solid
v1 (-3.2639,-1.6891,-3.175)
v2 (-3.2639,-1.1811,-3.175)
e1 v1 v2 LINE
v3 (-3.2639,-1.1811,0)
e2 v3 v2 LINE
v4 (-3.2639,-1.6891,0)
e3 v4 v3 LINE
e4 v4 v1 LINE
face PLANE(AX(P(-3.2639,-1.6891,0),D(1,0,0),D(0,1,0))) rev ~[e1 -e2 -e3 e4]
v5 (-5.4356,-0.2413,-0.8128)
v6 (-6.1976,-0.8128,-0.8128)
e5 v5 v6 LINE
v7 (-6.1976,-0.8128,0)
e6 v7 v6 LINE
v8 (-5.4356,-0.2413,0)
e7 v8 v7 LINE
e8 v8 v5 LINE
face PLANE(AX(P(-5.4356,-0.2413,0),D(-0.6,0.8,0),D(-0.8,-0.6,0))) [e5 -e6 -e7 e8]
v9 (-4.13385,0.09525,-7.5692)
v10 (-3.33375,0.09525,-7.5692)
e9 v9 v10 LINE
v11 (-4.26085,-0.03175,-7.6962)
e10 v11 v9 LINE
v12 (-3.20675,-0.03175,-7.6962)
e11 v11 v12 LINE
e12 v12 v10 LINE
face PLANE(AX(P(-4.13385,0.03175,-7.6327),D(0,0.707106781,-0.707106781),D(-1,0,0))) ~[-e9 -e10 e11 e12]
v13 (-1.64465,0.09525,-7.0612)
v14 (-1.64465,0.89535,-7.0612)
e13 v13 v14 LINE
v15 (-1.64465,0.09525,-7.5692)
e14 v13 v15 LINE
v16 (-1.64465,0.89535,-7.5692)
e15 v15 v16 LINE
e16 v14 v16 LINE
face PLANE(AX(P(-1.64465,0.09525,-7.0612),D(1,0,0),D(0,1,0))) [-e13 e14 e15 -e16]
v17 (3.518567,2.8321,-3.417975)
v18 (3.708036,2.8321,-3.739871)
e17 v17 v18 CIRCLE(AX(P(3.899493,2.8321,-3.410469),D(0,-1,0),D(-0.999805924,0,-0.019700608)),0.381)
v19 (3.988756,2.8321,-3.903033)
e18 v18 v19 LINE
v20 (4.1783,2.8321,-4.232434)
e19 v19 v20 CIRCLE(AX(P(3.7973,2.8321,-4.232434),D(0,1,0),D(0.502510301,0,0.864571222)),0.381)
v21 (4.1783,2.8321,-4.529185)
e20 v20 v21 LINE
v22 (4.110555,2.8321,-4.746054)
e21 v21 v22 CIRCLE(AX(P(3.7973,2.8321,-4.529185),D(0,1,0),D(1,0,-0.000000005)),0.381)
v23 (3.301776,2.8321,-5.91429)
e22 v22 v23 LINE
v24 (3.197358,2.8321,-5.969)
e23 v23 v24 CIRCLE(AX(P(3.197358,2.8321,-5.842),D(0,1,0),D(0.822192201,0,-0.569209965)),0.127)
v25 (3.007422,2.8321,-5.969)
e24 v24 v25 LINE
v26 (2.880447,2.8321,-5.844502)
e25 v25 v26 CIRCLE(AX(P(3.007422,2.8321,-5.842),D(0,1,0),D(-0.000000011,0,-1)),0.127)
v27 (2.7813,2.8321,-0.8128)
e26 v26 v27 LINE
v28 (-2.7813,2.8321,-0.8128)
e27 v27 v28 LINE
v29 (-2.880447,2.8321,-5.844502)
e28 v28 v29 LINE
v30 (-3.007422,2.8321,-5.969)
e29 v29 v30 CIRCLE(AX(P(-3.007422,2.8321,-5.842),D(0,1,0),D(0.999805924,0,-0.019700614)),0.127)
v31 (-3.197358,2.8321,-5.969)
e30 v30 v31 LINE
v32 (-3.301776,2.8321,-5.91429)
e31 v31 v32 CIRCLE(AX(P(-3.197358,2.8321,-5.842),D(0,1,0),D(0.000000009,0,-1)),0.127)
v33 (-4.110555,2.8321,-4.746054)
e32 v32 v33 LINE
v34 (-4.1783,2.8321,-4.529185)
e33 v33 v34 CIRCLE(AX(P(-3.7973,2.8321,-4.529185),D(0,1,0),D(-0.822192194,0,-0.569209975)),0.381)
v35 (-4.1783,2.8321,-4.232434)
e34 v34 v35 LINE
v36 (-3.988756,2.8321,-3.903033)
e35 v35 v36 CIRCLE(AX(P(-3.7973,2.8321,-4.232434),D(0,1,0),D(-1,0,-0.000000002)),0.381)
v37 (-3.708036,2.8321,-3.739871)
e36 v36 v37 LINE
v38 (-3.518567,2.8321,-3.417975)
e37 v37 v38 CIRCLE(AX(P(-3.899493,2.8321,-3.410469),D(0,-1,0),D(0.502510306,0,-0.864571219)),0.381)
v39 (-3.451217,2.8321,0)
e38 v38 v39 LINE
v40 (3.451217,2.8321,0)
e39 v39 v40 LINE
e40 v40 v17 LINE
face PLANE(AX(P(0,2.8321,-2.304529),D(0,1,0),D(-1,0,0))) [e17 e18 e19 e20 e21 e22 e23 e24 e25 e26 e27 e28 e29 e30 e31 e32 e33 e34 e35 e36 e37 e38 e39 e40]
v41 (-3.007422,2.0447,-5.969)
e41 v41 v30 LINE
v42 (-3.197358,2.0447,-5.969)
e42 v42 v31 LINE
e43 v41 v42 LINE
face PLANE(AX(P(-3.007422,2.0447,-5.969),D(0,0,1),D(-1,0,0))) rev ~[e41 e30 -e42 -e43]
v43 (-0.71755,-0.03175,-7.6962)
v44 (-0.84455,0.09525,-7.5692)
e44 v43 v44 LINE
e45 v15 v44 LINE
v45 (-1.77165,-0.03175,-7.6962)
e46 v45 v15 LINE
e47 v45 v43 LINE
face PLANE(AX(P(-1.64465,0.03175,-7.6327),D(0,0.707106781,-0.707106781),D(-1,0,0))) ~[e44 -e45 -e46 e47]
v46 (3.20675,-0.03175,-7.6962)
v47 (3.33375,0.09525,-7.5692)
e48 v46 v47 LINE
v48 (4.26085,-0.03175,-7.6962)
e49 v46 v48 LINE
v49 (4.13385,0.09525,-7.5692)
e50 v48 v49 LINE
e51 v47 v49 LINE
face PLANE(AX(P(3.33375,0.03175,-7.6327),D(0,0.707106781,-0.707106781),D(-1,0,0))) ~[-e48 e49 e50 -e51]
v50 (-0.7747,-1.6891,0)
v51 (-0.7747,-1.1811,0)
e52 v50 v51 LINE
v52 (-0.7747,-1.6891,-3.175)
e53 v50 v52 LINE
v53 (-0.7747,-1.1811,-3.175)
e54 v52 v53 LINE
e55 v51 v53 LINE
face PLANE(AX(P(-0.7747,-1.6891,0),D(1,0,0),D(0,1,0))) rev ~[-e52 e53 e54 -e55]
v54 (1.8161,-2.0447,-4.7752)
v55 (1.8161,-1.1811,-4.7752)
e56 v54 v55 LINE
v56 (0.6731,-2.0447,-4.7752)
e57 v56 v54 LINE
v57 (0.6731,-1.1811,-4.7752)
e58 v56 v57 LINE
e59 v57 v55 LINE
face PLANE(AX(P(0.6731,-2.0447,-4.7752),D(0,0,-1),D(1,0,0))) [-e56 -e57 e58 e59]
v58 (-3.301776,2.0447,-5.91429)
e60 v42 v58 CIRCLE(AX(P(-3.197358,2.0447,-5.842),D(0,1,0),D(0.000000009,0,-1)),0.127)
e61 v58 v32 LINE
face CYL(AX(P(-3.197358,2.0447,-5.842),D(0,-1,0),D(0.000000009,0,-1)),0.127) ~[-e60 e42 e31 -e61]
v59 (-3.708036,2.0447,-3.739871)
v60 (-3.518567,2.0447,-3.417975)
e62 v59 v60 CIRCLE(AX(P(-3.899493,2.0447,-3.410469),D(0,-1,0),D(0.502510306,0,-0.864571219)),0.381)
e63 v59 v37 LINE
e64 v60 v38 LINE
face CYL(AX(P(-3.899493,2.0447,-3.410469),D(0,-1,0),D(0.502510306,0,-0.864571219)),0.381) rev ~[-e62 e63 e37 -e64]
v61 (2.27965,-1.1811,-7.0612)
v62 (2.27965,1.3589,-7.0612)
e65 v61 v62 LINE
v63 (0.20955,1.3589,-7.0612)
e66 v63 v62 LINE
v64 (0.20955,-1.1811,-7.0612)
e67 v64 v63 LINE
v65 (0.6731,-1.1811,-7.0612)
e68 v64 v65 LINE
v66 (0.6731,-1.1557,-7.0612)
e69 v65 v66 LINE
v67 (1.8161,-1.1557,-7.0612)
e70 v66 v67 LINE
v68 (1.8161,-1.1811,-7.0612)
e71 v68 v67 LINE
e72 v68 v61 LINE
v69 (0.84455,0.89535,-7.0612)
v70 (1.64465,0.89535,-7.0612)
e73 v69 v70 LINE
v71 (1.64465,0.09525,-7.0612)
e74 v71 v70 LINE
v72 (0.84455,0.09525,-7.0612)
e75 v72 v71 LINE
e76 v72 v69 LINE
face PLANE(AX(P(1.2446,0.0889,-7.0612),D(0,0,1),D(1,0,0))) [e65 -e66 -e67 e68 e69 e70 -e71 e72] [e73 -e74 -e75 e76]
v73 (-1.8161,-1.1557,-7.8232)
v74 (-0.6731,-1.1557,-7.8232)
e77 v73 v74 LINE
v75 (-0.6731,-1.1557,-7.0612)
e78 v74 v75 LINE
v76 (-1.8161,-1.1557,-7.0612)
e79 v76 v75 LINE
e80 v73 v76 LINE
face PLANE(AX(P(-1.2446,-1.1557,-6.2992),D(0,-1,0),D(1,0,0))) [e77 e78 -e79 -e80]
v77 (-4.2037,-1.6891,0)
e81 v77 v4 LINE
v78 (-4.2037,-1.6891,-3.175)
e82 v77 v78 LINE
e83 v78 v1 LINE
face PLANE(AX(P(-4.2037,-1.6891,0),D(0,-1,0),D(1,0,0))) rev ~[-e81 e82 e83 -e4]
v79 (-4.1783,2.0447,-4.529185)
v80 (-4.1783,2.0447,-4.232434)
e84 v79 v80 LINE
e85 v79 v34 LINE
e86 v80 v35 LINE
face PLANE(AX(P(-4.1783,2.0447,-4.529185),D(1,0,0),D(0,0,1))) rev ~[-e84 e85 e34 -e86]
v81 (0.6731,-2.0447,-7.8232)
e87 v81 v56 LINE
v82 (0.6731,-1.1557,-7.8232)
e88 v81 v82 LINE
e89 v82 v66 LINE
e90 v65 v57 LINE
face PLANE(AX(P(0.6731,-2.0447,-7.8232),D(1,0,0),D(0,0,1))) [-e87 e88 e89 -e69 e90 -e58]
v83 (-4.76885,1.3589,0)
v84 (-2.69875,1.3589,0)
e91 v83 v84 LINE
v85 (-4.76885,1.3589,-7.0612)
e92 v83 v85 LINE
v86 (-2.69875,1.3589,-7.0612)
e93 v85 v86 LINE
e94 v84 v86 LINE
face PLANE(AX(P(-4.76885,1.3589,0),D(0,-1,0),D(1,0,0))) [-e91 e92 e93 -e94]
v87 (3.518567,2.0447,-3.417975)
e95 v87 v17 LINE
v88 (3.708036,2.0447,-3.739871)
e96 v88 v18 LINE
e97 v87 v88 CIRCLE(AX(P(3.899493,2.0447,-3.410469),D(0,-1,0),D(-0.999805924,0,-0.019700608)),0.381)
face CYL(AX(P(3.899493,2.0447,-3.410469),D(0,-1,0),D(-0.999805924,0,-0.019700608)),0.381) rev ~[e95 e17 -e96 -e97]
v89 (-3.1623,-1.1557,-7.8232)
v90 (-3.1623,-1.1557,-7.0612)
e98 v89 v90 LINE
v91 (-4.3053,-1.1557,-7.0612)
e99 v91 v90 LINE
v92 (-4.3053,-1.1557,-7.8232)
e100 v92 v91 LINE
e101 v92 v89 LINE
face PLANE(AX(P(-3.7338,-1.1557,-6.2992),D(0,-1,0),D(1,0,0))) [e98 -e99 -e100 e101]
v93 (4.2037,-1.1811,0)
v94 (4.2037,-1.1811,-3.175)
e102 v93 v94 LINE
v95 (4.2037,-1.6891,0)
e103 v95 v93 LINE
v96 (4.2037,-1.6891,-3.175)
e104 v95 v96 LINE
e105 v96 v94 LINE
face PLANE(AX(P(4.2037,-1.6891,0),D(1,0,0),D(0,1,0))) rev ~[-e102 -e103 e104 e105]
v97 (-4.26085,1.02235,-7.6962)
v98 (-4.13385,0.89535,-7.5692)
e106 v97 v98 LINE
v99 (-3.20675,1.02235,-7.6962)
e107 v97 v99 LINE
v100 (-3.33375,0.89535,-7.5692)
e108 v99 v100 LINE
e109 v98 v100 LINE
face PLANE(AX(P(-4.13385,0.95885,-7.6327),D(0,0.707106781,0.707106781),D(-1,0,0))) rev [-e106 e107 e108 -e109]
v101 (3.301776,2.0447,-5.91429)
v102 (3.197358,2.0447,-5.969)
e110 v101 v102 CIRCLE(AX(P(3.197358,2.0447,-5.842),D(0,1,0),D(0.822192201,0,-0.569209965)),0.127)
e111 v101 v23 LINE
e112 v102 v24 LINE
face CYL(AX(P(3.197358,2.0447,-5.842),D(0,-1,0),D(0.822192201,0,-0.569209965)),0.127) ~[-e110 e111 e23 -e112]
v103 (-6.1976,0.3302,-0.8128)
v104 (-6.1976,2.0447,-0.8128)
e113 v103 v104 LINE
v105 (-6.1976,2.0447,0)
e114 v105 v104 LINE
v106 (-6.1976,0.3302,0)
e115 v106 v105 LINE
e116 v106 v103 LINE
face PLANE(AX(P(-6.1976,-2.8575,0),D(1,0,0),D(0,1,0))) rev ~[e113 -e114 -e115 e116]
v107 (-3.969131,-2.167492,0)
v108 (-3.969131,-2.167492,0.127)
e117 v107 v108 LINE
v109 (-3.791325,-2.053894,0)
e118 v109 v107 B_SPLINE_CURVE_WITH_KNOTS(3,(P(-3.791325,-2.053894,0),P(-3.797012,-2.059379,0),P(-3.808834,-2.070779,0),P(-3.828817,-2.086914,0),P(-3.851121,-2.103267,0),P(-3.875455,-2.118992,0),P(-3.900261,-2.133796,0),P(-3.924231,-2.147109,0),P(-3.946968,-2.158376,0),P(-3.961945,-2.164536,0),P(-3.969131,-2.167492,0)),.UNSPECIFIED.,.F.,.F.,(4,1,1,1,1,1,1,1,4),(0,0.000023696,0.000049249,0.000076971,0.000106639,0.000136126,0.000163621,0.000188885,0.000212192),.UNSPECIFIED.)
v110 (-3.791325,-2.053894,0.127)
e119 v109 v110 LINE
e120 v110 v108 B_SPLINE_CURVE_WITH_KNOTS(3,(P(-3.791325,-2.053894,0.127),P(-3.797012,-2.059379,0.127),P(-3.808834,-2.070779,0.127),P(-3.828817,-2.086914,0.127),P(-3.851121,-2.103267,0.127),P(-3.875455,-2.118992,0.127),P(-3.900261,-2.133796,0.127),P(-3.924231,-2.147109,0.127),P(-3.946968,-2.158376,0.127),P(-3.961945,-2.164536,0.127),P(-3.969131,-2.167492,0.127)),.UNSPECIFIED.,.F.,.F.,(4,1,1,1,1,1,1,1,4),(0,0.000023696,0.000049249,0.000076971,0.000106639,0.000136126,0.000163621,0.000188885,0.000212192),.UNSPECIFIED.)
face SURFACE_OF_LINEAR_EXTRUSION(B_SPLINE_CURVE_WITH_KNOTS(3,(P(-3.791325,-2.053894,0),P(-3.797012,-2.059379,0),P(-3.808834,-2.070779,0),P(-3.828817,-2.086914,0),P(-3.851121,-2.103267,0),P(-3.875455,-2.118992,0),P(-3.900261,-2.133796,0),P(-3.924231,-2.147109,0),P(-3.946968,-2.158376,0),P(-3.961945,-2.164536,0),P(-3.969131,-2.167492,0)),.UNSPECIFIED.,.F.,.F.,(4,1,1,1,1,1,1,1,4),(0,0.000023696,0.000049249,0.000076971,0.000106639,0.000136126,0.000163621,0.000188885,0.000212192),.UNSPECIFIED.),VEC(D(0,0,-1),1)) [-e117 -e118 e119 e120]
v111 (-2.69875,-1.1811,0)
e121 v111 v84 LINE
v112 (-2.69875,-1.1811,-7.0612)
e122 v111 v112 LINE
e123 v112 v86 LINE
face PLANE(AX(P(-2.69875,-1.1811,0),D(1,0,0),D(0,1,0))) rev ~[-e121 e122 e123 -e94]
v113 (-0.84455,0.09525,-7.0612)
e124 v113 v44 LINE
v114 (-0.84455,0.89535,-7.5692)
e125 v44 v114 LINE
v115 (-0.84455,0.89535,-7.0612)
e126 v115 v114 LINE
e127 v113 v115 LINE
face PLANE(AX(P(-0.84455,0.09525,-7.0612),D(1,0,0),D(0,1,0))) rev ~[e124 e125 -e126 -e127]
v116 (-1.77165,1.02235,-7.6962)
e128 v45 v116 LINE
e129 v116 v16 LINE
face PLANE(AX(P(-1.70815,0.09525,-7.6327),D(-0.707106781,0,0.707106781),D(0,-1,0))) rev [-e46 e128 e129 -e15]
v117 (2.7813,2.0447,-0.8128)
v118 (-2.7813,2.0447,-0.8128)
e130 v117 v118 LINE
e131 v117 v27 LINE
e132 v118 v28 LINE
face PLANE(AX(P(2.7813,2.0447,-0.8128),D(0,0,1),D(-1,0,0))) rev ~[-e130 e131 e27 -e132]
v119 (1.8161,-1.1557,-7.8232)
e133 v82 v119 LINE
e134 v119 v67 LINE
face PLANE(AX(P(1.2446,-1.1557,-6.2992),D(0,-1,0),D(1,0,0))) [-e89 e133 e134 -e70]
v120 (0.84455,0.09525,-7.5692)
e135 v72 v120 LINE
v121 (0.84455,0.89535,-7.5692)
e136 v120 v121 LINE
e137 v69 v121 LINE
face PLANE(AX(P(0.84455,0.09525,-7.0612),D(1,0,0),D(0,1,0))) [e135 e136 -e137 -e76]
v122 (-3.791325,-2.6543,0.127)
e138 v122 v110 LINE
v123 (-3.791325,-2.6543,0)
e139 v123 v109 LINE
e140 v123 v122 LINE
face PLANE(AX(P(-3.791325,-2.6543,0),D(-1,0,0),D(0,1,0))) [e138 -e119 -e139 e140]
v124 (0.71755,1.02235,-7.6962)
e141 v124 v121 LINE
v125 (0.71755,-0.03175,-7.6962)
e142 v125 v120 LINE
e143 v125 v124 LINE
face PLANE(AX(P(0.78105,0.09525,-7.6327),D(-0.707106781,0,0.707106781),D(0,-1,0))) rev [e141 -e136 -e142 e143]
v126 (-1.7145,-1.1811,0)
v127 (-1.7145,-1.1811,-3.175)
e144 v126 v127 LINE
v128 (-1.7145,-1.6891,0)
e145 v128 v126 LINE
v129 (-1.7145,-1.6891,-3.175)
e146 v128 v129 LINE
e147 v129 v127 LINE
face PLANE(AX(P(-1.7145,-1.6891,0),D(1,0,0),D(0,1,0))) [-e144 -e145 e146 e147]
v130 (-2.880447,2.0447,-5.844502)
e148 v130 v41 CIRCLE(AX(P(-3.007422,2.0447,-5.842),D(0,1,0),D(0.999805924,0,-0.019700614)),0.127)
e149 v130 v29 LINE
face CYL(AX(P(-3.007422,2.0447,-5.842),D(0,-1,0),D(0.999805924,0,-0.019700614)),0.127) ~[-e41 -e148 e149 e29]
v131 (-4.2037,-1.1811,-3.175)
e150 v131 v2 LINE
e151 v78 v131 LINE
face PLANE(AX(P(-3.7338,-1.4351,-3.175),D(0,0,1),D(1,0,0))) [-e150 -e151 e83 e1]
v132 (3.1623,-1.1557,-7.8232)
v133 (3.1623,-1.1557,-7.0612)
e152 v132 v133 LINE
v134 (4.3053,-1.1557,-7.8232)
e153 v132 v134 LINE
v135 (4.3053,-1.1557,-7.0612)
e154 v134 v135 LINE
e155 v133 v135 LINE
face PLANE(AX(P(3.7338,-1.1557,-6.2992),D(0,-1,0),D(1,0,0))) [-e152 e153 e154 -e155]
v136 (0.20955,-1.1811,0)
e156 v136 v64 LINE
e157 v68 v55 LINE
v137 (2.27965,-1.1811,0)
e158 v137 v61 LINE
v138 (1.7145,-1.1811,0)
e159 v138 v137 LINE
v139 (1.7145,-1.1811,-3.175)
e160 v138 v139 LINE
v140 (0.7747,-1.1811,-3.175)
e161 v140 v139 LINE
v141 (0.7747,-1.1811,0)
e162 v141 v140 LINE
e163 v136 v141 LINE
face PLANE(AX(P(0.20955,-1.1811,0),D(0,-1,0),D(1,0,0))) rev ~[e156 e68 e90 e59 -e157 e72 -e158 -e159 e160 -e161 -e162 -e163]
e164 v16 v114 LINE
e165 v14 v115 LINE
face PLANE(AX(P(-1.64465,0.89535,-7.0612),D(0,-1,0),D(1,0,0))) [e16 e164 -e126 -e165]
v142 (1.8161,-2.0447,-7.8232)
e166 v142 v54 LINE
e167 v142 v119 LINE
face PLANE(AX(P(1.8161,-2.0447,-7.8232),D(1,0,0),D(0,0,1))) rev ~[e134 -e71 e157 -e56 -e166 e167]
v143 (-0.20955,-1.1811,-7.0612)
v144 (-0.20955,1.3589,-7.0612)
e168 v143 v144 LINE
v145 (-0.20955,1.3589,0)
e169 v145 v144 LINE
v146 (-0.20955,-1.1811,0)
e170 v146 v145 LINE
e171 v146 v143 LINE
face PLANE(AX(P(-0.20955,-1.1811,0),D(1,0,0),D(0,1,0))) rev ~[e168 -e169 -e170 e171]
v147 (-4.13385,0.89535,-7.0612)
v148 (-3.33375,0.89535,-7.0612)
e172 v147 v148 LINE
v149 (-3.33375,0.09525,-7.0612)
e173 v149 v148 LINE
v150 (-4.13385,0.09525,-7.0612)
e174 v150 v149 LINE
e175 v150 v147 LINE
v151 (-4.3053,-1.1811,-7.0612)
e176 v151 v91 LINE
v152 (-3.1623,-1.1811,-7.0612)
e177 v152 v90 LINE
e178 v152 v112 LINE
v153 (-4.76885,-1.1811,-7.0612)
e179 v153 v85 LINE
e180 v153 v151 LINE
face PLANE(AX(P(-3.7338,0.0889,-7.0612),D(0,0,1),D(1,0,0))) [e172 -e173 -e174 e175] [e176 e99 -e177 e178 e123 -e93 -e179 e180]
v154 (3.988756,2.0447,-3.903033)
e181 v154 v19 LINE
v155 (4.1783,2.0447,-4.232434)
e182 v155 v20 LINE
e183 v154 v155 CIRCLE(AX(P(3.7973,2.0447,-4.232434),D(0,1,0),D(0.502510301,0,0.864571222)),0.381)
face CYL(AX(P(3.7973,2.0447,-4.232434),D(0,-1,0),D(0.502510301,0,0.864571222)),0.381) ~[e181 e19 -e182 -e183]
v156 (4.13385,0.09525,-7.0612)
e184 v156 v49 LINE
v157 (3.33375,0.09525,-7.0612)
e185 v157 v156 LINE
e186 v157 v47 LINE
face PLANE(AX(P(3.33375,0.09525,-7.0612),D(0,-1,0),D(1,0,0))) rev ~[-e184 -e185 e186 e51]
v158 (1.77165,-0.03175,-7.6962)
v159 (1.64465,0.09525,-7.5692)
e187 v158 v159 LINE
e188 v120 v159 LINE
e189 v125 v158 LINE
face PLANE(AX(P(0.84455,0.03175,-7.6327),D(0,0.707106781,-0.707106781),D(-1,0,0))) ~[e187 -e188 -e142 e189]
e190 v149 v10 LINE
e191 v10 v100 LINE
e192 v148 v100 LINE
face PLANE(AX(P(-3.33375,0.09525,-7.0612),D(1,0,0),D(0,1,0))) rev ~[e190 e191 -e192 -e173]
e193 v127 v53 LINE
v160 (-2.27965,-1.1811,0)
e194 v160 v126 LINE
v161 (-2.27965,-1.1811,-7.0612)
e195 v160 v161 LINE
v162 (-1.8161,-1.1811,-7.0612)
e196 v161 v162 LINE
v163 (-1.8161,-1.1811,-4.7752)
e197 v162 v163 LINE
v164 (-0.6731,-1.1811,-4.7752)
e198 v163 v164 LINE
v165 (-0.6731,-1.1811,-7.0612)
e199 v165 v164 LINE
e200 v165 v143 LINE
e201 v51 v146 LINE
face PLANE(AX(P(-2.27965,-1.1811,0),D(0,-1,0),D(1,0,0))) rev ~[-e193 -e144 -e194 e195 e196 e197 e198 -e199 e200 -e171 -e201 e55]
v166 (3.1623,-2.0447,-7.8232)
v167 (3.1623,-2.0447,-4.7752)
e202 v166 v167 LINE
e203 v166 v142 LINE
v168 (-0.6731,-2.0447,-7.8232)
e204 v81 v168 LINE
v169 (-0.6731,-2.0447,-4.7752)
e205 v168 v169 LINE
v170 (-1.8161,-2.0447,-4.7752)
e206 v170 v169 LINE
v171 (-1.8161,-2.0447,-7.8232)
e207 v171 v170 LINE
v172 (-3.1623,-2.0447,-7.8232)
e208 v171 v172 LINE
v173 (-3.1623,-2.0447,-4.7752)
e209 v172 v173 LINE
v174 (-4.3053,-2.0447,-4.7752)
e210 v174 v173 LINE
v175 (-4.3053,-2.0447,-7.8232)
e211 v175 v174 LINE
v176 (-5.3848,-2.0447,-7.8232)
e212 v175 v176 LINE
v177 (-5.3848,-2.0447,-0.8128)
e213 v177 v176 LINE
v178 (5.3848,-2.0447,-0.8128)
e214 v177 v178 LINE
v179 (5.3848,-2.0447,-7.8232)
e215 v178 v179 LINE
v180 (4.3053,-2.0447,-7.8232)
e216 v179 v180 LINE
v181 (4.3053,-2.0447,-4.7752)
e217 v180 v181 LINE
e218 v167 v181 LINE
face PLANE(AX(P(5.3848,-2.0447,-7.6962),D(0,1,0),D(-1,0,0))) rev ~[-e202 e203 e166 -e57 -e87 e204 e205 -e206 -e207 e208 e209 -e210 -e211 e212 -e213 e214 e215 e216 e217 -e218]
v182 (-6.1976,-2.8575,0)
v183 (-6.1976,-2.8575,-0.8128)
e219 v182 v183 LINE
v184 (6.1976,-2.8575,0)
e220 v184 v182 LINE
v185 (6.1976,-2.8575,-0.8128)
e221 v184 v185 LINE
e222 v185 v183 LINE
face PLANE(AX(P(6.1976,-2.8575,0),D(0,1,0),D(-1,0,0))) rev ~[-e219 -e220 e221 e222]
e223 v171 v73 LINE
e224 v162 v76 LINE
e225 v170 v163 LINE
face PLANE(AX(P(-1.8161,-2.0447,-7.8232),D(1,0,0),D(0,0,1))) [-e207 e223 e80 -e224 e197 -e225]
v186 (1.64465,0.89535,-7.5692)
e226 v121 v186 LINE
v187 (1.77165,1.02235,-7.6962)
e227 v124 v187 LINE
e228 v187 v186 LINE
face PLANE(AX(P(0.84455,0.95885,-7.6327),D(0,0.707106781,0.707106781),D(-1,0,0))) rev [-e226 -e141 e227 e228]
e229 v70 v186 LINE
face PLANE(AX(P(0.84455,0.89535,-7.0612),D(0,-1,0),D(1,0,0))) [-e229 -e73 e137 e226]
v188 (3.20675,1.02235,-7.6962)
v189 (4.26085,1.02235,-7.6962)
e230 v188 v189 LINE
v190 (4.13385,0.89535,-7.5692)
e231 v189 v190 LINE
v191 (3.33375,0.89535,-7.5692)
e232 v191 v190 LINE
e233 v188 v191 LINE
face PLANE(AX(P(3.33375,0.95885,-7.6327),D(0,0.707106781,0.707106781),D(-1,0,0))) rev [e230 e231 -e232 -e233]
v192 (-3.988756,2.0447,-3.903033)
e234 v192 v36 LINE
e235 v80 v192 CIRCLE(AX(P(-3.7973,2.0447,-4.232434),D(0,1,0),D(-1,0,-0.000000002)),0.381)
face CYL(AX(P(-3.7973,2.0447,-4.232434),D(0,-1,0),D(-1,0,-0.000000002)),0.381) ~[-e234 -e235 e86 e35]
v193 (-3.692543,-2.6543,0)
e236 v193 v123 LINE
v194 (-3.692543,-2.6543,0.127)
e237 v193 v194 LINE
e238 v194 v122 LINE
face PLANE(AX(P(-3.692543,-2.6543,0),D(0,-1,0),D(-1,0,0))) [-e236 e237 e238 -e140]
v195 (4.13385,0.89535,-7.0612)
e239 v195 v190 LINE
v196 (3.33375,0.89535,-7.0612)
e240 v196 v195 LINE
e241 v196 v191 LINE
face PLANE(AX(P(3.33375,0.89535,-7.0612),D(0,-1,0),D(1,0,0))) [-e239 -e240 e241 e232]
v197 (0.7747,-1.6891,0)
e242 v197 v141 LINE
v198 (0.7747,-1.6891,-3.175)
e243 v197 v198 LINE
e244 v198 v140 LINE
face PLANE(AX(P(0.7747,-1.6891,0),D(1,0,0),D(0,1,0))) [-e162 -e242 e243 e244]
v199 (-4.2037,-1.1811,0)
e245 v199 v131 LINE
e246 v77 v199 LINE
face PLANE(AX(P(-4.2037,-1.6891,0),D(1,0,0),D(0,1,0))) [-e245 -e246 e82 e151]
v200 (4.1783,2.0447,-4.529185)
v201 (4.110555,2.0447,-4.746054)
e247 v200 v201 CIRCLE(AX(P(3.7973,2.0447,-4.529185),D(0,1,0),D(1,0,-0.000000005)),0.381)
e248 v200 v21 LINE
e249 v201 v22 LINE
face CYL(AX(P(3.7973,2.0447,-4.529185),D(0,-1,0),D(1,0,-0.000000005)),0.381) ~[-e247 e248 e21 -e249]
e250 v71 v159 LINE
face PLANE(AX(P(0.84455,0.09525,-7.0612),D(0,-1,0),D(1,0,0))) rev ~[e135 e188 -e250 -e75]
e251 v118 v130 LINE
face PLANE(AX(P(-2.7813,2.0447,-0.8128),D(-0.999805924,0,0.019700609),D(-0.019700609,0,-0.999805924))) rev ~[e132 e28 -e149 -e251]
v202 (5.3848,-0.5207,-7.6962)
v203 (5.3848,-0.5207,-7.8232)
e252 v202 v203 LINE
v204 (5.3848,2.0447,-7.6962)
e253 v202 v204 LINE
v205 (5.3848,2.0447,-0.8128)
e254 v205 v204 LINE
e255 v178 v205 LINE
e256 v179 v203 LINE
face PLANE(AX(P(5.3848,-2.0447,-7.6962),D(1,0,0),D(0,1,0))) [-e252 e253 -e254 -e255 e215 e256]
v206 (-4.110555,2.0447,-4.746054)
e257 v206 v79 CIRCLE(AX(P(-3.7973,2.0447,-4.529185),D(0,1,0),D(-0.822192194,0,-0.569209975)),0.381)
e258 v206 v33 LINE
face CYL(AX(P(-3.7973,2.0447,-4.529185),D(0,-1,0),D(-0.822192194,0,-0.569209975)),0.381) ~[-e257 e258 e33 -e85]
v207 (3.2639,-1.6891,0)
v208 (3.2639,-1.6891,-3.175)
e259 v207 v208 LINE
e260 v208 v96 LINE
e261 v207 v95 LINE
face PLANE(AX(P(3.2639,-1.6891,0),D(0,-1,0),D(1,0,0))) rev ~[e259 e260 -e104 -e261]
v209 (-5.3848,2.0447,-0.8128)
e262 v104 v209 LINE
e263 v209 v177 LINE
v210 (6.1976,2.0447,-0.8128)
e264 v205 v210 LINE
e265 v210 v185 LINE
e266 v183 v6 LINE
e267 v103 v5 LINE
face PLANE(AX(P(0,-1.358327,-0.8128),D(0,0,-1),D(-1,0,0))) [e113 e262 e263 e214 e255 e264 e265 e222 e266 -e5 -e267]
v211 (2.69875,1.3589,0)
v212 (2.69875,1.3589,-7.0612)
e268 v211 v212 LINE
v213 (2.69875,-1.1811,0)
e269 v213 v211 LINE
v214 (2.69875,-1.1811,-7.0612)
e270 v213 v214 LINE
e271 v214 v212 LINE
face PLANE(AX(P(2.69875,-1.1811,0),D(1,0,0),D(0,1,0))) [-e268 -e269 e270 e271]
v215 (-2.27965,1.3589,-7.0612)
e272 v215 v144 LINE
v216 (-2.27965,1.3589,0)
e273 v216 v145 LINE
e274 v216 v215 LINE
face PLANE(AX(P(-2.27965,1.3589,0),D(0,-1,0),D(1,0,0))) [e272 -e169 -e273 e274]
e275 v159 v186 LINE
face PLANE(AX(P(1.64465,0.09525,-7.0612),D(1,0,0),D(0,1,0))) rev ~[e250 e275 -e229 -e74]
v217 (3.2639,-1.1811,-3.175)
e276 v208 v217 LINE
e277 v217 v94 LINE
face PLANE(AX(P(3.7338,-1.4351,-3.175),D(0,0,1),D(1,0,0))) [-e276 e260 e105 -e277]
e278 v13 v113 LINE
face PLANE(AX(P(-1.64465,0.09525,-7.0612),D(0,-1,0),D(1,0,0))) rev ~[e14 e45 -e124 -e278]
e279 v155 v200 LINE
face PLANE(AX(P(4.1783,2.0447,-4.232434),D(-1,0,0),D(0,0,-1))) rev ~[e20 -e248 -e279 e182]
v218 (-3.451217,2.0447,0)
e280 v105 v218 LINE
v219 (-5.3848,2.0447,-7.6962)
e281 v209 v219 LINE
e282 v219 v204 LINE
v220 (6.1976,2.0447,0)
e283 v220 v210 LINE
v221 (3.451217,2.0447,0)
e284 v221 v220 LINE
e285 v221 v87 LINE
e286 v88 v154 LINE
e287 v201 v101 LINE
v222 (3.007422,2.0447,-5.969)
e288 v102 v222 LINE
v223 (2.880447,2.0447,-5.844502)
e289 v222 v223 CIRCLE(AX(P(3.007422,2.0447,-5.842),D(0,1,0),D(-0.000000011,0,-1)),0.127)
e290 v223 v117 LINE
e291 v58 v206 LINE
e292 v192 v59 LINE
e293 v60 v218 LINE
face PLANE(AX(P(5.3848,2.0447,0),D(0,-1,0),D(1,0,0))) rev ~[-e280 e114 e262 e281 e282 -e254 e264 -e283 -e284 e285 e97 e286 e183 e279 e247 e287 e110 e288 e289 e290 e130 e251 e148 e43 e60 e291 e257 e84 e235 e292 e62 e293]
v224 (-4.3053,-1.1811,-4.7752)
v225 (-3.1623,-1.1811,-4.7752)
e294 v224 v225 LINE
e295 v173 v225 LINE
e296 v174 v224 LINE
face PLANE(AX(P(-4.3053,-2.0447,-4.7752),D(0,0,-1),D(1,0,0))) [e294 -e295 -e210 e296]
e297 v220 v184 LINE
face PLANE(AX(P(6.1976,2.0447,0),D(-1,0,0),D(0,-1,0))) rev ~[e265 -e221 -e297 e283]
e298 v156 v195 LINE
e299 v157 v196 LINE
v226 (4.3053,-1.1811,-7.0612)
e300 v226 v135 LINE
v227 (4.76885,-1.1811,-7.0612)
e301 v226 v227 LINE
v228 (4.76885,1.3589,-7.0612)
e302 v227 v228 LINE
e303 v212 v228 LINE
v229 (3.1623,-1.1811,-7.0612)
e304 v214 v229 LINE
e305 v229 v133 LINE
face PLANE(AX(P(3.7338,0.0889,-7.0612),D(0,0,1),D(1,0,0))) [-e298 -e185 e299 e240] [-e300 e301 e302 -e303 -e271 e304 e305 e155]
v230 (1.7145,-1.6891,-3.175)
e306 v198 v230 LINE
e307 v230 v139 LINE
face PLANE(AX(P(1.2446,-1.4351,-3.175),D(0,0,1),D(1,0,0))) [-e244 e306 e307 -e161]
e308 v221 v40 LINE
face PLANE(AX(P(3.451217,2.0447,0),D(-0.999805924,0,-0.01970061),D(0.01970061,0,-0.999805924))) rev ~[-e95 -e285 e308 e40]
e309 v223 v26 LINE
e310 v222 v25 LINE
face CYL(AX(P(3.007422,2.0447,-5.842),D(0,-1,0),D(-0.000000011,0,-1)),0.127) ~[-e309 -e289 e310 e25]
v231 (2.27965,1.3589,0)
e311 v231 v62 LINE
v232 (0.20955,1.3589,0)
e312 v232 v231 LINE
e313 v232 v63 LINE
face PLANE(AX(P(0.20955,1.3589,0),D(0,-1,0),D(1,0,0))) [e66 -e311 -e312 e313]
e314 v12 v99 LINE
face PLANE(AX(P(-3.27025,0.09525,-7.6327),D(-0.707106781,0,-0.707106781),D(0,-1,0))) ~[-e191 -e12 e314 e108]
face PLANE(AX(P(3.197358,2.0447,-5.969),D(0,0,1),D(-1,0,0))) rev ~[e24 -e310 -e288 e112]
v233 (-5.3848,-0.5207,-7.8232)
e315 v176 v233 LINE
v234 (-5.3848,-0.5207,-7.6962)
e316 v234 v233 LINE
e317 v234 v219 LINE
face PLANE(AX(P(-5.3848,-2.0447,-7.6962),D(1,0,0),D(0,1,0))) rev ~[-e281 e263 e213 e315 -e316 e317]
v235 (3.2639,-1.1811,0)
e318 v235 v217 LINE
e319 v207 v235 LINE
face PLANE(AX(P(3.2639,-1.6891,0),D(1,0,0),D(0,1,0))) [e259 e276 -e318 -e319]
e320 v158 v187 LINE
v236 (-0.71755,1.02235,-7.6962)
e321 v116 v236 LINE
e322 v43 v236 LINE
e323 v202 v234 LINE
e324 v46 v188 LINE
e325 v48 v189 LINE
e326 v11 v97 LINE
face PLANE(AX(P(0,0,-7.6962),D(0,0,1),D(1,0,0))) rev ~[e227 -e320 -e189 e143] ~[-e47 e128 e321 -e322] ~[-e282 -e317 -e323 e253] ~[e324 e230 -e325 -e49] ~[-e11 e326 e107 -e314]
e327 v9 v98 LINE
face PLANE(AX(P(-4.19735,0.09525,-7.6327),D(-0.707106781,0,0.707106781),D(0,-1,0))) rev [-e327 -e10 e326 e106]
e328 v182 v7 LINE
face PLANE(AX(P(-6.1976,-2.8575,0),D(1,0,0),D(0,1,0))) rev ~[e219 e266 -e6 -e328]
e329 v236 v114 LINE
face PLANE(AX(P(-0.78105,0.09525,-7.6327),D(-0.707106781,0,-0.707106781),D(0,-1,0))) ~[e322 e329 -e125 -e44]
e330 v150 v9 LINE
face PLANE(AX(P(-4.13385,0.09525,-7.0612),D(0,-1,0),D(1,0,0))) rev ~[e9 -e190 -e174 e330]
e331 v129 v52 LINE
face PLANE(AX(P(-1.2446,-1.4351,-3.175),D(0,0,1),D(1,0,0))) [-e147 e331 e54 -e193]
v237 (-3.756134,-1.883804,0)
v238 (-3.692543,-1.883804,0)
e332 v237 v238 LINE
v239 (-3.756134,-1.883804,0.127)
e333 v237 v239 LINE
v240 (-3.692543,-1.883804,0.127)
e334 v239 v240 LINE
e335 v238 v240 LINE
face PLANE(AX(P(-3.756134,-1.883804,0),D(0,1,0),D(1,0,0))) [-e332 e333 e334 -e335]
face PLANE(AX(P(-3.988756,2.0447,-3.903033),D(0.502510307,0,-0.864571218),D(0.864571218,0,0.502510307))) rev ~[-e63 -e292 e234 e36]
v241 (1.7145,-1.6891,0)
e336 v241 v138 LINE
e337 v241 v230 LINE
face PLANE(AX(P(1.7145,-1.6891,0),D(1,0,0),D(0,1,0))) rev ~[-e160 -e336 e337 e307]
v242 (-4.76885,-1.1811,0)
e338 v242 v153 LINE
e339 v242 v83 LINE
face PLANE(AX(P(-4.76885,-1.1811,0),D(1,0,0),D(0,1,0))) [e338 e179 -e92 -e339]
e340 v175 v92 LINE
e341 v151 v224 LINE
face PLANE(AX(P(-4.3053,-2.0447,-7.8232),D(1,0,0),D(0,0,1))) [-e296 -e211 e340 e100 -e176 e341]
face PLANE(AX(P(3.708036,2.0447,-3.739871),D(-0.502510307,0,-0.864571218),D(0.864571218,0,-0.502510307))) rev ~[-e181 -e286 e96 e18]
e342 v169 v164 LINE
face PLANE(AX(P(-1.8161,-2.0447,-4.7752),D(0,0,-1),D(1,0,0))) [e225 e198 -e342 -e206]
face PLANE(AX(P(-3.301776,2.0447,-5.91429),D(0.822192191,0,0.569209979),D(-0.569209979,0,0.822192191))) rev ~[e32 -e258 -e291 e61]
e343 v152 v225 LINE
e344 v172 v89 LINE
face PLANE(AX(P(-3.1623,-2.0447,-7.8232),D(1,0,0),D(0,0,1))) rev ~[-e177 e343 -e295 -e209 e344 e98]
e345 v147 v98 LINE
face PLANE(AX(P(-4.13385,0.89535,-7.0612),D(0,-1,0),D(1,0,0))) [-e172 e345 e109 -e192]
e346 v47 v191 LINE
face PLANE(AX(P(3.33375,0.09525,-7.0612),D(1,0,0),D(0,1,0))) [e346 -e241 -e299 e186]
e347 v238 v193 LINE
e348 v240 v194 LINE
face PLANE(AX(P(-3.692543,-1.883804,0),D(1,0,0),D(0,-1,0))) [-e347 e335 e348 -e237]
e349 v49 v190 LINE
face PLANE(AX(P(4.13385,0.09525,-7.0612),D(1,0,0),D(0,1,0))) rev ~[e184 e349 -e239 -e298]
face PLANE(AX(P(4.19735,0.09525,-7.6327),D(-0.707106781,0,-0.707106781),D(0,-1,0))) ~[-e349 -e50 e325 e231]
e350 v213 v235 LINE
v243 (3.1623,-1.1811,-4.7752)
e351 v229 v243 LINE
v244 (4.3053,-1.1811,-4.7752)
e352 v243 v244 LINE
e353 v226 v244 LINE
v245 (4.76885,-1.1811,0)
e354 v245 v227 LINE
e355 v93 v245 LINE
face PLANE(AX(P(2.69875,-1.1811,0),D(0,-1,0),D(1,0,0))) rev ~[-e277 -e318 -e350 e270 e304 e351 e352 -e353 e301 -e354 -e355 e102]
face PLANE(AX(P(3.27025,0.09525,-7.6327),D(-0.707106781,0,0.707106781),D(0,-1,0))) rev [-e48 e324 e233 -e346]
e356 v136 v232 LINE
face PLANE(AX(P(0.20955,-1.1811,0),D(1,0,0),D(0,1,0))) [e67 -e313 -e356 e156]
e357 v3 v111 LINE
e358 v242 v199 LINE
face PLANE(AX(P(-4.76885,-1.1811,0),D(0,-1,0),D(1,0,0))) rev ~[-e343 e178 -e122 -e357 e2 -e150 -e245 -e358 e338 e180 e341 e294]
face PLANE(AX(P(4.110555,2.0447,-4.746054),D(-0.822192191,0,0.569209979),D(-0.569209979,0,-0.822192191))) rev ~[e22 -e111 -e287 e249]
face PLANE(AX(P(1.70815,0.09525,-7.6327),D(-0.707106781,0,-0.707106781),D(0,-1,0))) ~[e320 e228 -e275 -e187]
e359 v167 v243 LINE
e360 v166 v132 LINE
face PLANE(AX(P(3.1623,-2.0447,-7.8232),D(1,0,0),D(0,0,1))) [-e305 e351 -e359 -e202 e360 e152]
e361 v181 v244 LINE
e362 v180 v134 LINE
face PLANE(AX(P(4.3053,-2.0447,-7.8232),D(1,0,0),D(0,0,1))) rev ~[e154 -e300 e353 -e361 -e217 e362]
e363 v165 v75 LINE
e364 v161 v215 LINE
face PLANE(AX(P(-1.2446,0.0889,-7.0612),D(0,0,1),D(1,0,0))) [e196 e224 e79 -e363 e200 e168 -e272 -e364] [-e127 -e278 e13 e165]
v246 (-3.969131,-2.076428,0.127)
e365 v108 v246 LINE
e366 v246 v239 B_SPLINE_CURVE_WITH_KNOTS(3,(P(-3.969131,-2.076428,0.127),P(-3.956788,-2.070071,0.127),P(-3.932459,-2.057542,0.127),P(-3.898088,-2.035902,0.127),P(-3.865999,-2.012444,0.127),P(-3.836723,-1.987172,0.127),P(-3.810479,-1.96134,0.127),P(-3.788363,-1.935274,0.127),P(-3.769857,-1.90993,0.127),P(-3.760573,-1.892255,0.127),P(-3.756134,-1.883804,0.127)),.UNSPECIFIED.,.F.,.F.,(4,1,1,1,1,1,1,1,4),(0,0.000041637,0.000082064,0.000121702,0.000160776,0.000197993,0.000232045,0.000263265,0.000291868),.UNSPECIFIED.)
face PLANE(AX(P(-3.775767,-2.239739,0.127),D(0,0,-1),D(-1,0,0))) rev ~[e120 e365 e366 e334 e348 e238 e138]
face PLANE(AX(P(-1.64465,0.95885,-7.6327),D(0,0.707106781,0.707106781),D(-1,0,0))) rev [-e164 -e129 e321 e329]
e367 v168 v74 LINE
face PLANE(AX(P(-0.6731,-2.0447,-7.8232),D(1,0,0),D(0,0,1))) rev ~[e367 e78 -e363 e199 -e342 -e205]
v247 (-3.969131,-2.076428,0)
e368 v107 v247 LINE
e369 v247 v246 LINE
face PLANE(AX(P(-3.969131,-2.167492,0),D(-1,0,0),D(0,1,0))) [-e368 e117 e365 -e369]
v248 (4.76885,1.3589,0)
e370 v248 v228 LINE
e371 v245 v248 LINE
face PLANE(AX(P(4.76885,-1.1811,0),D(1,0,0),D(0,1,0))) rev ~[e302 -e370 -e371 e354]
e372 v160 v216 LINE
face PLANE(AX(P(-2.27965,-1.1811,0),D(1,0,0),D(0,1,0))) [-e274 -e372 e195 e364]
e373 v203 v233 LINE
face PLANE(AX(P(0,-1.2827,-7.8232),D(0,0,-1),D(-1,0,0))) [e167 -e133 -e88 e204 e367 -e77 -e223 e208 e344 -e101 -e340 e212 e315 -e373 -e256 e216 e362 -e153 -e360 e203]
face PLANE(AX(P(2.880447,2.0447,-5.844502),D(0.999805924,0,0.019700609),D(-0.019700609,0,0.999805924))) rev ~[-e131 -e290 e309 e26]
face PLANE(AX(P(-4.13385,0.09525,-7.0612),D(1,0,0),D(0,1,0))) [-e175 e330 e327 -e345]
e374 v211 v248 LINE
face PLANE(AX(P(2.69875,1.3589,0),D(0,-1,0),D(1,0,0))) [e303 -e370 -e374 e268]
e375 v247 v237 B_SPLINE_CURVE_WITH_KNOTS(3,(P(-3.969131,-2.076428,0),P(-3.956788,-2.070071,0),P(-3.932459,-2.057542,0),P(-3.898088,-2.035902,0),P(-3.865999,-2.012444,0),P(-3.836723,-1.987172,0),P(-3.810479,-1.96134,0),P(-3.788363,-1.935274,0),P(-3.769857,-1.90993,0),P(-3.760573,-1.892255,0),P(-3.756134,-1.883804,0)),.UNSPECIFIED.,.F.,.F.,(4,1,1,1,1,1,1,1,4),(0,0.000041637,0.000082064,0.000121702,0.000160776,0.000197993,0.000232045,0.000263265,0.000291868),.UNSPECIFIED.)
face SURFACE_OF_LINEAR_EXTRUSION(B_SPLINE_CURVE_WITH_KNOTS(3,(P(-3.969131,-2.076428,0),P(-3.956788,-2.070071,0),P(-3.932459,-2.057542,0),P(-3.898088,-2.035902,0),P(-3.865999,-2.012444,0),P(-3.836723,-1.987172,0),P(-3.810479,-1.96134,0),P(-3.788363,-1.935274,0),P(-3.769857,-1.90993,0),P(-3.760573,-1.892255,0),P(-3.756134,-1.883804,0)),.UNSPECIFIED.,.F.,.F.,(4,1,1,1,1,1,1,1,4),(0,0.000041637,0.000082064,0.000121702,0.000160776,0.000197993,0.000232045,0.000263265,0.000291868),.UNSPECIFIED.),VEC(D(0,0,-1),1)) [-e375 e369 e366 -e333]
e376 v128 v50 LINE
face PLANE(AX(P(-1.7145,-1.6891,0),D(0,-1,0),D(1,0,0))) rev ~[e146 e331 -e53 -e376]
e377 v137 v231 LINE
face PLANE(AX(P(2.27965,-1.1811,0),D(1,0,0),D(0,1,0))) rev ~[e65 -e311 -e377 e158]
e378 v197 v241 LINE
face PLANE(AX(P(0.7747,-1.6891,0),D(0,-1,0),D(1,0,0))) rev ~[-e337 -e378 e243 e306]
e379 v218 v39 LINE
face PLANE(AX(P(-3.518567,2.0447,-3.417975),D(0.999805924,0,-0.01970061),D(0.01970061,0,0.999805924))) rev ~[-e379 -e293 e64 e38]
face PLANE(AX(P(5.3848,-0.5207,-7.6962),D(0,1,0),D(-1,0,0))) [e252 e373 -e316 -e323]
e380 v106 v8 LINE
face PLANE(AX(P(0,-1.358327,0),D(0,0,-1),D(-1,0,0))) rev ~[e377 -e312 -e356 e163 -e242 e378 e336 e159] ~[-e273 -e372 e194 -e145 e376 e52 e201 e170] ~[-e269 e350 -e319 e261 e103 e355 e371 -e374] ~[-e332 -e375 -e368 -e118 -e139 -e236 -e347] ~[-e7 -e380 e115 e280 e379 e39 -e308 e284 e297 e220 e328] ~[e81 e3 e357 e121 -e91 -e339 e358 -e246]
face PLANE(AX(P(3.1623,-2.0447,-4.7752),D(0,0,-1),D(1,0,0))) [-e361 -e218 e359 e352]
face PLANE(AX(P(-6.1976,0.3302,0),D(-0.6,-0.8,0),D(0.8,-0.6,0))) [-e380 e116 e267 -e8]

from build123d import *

# Parameters (mm, degrees)
SKETCH1_W                   = 10.7696
SKETCH1_H                   = 4.0894
BODY_DEPTH                  = 7.6962
FLANGE_DEPTH                = 0.8128
LOCK_DEPTH                  = 0.7874
SKETCH4_W                   = 2.0701
SKETCH4_H                   = 2.54
PIN_CAVITY_DEPTH            = 7.0612
SKETCH5_W                   = 0.8001
SKETCH5_H                   = 0.8001
PIN_ENTRY_DEPTH             = 0.635
SKETCH6_W                   = 0.9398
SKETCH6_H                   = 0.508
PIN_LOCK_DEPTH              = 3.175
SKETCH8_W                   = 10.7696
SKETCH8_H                   = 1.524
BODY_EXTEND_DEPTH           = 0.127
SKETCH7_W                   = 1.143
SKETCH7_H                   = 3.048
PIN_CAV_CUTOUT_DEPTH        = 0.889
CHAMFER1_SIZE               = 0.127
F_4_POSITION_COUNT          = 4
F_4_POSITION_PITCH          = 2.4892
CHAMFER1_OF_4_POSITION_SIZE = 0.127
PIN_1_INDICATOR_REACH       = 9.823
PIN_NUMBER_DEPTH            = 0.127


with BuildPart() as part:
    # Sketch1 → BODY (new body)
    with BuildSketch(Plane.XY):
        Rectangle(SKETCH1_W, SKETCH1_H)
    extrude(amount=-BODY_DEPTH)

    # Sketch2 → FLANGE (add)
    with BuildSketch(Plane.XY):
        Polygon((5.3848, -2.0447), (5.3848, 2.0447), (6.1976, 2.0447), (6.1976, -2.8575), (-6.1976, -2.8575), (-6.1976, 2.0447), (-5.3848, 2.0447), (-5.3848, -2.0447), align=None)
    extrude(amount=-FLANGE_DEPTH)

    # Sketch3 → LOCK (add)
    with BuildSketch(Plane(origin=(0, 2.0447, 0), x_dir=(-1, 0, 0), z_dir=(0, 1, 0))):
        with BuildLine():
            Line((-3.451217359, 0), (-3.518566627, -3.417975309))
            ThreePointArc((-3.518566627, -3.417975309), (-3.571148904, -3.603734382), (-3.708036257, -3.739871011))
            Line((-3.708036257, -3.739871011), (-3.988756426, -3.903032559))
            ThreePointArc((-3.988756426, -3.903032559), (-4.12753166, -4.042413008), (-4.1783, -4.232434193))
            Line((-4.1783, -4.232434193), (-4.1783, -4.529184562))
            ThreePointArc((-4.1783, -4.529184562), (-4.160969658, -4.642786409), (-4.110555225, -4.746053564))
            Line((-4.110555225, -4.746053564), (-3.301776384, -5.914289667))
            ThreePointArc((-3.301776384, -5.914289667), (-3.256299524, -5.954493973), (-3.197357976, -5.969))
            Line((-3.197357976, -5.969), (-3.007422189, -5.969))
            ThreePointArc((-3.007422189, -5.969), (-2.918508611, -5.932682829), (-2.880446837, -5.844501977))
            Line((-2.880446837, -5.844501977), (-2.7813, -0.8128))
            Line((-2.7813, -0.8128), (2.7813, -0.8128))
            Line((2.7813, -0.8128), (2.880446837, -5.844501977))
            ThreePointArc((2.880446837, -5.844501977), (2.918508611, -5.932682829), (3.007422189, -5.969))
            Line((3.007422189, -5.969), (3.197357976, -5.969))
            ThreePointArc((3.197357976, -5.969), (3.256299524, -5.954493973), (3.301776384, -5.914289667))
            Line((3.301776384, -5.914289667), (4.110555225, -4.746053564))
            ThreePointArc((4.110555225, -4.746053564), (4.160969658, -4.642786409), (4.1783, -4.529184562))
            Line((4.1783, -4.529184562), (4.1783, -4.232434193))
            ThreePointArc((4.1783, -4.232434193), (4.12753166, -4.042413008), (3.988756426, -3.903032559))
            Line((3.988756426, -3.903032559), (3.708036257, -3.739871011))
            ThreePointArc((3.708036257, -3.739871011), (3.571148904, -3.603734382), (3.518566627, -3.417975309))
            Line((3.518566627, -3.417975309), (3.451217359, 0))
            Line((3.451217359, 0), (-3.451217359, 0))
        make_face()
    extrude(amount=LOCK_DEPTH)

    # Sketch4 → PIN CAVITY (cut)
    with BuildSketch(Plane.XY):
        with Locations((-3.7338, 0.0889)):
            Rectangle(SKETCH4_W, SKETCH4_H)
    pin_cavity = extrude(amount=-PIN_CAVITY_DEPTH, mode=Mode.SUBTRACT)

    # Sketch5 → PIN ENTRY (cut)
    with BuildSketch(Plane.XY.offset(-7.0612)):
        with Locations((-3.7338, 0.4953)):
            Rectangle(SKETCH5_W, SKETCH5_H)
    pin_entry = extrude(amount=-PIN_ENTRY_DEPTH, mode=Mode.SUBTRACT)

    # Sketch6 → PIN LOCK (cut)
    with BuildSketch(Plane.XY):
        with Locations((-3.7338, -1.4351)):
            Rectangle(SKETCH6_W, SKETCH6_H)
    pin_lock = extrude(amount=-PIN_LOCK_DEPTH, mode=Mode.SUBTRACT)

    # Sketch8 → BODY EXTEND (add)
    with BuildSketch(Plane(origin=(0, 0, -7.6962), x_dir=(-1, 0, 0), z_dir=(0, 0, -1))):
        with Locations((0, -1.2827)):
            Rectangle(SKETCH8_W, SKETCH8_H)
    extrude(amount=BODY_EXTEND_DEPTH)

    # Sketch7 → PIN CAV CUTOUT (cut)
    with BuildSketch(Plane.XZ.offset(2.0447)):
        with Locations((-3.7338, -6.2992)):
            Rectangle(SKETCH7_W, SKETCH7_H)
    pin_cav_cutout = extrude(amount=-PIN_CAV_CUTOUT_DEPTH, mode=Mode.SUBTRACT)

    # Chamfer1
    chamfer1_edges = [part.edges().sort_by_distance(p)[0] for p in [
        (-3.7338, 0.09525, -7.6962),
        (-4.13385, 0.4953, -7.6962),
        (-3.7338, 0.89535, -7.6962),
        (-3.33375, 0.4953, -7.6962),
    ]]
    chamfer(chamfer1_edges, length=CHAMFER1_SIZE)

    # 4 POSITION: PIN CAVITY, PIN ENTRY, PIN LOCK, PIN CAV CUTOUT ×4
    with Locations(*[(i * F_4_POSITION_PITCH, 0, 0) for i in range(1, F_4_POSITION_COUNT)]):
        add(pin_cavity, mode=Mode.SUBTRACT)
        add(pin_entry, mode=Mode.SUBTRACT)
        add(pin_lock, mode=Mode.SUBTRACT)
        add(pin_cav_cutout, mode=Mode.SUBTRACT)

    # Chamfer1 of 4 POSITION
    chamfer1_of_4_position_edges = [part.edges().sort_by_distance(p)[0] for p in [
        (-1.2446, 0.09525, -7.6962),
        (-1.64465, 0.4953, -7.6962),
        (-1.2446, 0.89535, -7.6962),
        (-0.84455, 0.4953, -7.6962),
        (1.2446, 0.09525, -7.6962),
        (0.84455, 0.4953, -7.6962),
        (1.2446, 0.89535, -7.6962),
        (1.64465, 0.4953, -7.6962),
        (3.7338, 0.09525, -7.6962),
        (3.33375, 0.4953, -7.6962),
        (3.7338, 0.89535, -7.6962),
        (4.13385, 0.4953, -7.6962),
    ]]
    chamfer(chamfer1_of_4_position_edges, length=CHAMFER1_OF_4_POSITION_SIZE)

    # Sketch9 → PIN 1 INDICATOR (cut, up to next)
    with BuildSketch(Plane.XY, mode=Mode.PRIVATE) as pin_1_indicator_sk1:
        Polygon((-6.1976, 0.3302), (-5.4356, -0.2413), (-6.1976, -0.8128), align=None)
    pin_1_indicator_tool1 = extrude(pin_1_indicator_sk1.sketch, amount=-PIN_1_INDICATOR_REACH, mode=Mode.PRIVATE) & part.part
    add(pin_1_indicator_tool1.solids().sort_by_distance((-5.9436, -0.2413, 0))[0], mode=Mode.SUBTRACT)

    # Sketch10 → PIN NUMBER (add)
    with BuildSketch(Plane.XY):
        with BuildLine():
            Line((-3.692543038, -2.6543), (-3.791324526, -2.6543))
            Line((-3.791324526, -2.6543), (-3.791324526, -2.053893769))
            add(Edge.make_bspline(
                [(-3.791324526, -2.053893769), (-3.797012373, -2.059378997), (-3.808833939, -2.070779444), (-3.828817048, -2.086913922), (-3.851120752, -2.103266899), (-3.875455422, -2.118992116), (-3.900260501, -2.133795711), (-3.924231417, -2.147109269), (-3.946967964, -2.158375769), (-3.961944651, -2.164536336), (-3.969131205, -2.16749248)],
                knots=[0, 0, 0, 0, 2.3696e-05, 4.9249e-05, 7.6971e-05, 0.000106639, 0.000136126, 0.000163621, 0.000188885, 0.000212192, 0.000212192, 0.000212192, 0.000212192], degree=3))
            Line((-3.969131205, -2.16749248), (-3.969131205, -2.076428296))
            add(Edge.make_bspline(
                [(-3.969131205, -2.076428296), (-3.956787556, -2.070071292), (-3.932458956, -2.057542014), (-3.898087905, -2.035902229), (-3.865998831, -2.012443811), (-3.836722936, -1.987171954), (-3.810478961, -1.96133958), (-3.788362783, -1.935273699), (-3.769857373, -1.909929775), (-3.760572857, -1.892255199), (-3.756133621, -1.883804395)],
                knots=[0, 0, 0, 0, 4.1637e-05, 8.2064e-05, 0.000121702, 0.000160776, 0.000197993, 0.000232045, 0.000263265, 0.000291868, 0.000291868, 0.000291868, 0.000291868], degree=3))
            Line((-3.756133621, -1.883804395), (-3.692543038, -1.883804395))
            Line((-3.692543038, -1.883804395), (-3.692543038, -2.6543))
        make_face()
    extrude(amount=PIN_NUMBER_DEPTH)


solid = part.part
